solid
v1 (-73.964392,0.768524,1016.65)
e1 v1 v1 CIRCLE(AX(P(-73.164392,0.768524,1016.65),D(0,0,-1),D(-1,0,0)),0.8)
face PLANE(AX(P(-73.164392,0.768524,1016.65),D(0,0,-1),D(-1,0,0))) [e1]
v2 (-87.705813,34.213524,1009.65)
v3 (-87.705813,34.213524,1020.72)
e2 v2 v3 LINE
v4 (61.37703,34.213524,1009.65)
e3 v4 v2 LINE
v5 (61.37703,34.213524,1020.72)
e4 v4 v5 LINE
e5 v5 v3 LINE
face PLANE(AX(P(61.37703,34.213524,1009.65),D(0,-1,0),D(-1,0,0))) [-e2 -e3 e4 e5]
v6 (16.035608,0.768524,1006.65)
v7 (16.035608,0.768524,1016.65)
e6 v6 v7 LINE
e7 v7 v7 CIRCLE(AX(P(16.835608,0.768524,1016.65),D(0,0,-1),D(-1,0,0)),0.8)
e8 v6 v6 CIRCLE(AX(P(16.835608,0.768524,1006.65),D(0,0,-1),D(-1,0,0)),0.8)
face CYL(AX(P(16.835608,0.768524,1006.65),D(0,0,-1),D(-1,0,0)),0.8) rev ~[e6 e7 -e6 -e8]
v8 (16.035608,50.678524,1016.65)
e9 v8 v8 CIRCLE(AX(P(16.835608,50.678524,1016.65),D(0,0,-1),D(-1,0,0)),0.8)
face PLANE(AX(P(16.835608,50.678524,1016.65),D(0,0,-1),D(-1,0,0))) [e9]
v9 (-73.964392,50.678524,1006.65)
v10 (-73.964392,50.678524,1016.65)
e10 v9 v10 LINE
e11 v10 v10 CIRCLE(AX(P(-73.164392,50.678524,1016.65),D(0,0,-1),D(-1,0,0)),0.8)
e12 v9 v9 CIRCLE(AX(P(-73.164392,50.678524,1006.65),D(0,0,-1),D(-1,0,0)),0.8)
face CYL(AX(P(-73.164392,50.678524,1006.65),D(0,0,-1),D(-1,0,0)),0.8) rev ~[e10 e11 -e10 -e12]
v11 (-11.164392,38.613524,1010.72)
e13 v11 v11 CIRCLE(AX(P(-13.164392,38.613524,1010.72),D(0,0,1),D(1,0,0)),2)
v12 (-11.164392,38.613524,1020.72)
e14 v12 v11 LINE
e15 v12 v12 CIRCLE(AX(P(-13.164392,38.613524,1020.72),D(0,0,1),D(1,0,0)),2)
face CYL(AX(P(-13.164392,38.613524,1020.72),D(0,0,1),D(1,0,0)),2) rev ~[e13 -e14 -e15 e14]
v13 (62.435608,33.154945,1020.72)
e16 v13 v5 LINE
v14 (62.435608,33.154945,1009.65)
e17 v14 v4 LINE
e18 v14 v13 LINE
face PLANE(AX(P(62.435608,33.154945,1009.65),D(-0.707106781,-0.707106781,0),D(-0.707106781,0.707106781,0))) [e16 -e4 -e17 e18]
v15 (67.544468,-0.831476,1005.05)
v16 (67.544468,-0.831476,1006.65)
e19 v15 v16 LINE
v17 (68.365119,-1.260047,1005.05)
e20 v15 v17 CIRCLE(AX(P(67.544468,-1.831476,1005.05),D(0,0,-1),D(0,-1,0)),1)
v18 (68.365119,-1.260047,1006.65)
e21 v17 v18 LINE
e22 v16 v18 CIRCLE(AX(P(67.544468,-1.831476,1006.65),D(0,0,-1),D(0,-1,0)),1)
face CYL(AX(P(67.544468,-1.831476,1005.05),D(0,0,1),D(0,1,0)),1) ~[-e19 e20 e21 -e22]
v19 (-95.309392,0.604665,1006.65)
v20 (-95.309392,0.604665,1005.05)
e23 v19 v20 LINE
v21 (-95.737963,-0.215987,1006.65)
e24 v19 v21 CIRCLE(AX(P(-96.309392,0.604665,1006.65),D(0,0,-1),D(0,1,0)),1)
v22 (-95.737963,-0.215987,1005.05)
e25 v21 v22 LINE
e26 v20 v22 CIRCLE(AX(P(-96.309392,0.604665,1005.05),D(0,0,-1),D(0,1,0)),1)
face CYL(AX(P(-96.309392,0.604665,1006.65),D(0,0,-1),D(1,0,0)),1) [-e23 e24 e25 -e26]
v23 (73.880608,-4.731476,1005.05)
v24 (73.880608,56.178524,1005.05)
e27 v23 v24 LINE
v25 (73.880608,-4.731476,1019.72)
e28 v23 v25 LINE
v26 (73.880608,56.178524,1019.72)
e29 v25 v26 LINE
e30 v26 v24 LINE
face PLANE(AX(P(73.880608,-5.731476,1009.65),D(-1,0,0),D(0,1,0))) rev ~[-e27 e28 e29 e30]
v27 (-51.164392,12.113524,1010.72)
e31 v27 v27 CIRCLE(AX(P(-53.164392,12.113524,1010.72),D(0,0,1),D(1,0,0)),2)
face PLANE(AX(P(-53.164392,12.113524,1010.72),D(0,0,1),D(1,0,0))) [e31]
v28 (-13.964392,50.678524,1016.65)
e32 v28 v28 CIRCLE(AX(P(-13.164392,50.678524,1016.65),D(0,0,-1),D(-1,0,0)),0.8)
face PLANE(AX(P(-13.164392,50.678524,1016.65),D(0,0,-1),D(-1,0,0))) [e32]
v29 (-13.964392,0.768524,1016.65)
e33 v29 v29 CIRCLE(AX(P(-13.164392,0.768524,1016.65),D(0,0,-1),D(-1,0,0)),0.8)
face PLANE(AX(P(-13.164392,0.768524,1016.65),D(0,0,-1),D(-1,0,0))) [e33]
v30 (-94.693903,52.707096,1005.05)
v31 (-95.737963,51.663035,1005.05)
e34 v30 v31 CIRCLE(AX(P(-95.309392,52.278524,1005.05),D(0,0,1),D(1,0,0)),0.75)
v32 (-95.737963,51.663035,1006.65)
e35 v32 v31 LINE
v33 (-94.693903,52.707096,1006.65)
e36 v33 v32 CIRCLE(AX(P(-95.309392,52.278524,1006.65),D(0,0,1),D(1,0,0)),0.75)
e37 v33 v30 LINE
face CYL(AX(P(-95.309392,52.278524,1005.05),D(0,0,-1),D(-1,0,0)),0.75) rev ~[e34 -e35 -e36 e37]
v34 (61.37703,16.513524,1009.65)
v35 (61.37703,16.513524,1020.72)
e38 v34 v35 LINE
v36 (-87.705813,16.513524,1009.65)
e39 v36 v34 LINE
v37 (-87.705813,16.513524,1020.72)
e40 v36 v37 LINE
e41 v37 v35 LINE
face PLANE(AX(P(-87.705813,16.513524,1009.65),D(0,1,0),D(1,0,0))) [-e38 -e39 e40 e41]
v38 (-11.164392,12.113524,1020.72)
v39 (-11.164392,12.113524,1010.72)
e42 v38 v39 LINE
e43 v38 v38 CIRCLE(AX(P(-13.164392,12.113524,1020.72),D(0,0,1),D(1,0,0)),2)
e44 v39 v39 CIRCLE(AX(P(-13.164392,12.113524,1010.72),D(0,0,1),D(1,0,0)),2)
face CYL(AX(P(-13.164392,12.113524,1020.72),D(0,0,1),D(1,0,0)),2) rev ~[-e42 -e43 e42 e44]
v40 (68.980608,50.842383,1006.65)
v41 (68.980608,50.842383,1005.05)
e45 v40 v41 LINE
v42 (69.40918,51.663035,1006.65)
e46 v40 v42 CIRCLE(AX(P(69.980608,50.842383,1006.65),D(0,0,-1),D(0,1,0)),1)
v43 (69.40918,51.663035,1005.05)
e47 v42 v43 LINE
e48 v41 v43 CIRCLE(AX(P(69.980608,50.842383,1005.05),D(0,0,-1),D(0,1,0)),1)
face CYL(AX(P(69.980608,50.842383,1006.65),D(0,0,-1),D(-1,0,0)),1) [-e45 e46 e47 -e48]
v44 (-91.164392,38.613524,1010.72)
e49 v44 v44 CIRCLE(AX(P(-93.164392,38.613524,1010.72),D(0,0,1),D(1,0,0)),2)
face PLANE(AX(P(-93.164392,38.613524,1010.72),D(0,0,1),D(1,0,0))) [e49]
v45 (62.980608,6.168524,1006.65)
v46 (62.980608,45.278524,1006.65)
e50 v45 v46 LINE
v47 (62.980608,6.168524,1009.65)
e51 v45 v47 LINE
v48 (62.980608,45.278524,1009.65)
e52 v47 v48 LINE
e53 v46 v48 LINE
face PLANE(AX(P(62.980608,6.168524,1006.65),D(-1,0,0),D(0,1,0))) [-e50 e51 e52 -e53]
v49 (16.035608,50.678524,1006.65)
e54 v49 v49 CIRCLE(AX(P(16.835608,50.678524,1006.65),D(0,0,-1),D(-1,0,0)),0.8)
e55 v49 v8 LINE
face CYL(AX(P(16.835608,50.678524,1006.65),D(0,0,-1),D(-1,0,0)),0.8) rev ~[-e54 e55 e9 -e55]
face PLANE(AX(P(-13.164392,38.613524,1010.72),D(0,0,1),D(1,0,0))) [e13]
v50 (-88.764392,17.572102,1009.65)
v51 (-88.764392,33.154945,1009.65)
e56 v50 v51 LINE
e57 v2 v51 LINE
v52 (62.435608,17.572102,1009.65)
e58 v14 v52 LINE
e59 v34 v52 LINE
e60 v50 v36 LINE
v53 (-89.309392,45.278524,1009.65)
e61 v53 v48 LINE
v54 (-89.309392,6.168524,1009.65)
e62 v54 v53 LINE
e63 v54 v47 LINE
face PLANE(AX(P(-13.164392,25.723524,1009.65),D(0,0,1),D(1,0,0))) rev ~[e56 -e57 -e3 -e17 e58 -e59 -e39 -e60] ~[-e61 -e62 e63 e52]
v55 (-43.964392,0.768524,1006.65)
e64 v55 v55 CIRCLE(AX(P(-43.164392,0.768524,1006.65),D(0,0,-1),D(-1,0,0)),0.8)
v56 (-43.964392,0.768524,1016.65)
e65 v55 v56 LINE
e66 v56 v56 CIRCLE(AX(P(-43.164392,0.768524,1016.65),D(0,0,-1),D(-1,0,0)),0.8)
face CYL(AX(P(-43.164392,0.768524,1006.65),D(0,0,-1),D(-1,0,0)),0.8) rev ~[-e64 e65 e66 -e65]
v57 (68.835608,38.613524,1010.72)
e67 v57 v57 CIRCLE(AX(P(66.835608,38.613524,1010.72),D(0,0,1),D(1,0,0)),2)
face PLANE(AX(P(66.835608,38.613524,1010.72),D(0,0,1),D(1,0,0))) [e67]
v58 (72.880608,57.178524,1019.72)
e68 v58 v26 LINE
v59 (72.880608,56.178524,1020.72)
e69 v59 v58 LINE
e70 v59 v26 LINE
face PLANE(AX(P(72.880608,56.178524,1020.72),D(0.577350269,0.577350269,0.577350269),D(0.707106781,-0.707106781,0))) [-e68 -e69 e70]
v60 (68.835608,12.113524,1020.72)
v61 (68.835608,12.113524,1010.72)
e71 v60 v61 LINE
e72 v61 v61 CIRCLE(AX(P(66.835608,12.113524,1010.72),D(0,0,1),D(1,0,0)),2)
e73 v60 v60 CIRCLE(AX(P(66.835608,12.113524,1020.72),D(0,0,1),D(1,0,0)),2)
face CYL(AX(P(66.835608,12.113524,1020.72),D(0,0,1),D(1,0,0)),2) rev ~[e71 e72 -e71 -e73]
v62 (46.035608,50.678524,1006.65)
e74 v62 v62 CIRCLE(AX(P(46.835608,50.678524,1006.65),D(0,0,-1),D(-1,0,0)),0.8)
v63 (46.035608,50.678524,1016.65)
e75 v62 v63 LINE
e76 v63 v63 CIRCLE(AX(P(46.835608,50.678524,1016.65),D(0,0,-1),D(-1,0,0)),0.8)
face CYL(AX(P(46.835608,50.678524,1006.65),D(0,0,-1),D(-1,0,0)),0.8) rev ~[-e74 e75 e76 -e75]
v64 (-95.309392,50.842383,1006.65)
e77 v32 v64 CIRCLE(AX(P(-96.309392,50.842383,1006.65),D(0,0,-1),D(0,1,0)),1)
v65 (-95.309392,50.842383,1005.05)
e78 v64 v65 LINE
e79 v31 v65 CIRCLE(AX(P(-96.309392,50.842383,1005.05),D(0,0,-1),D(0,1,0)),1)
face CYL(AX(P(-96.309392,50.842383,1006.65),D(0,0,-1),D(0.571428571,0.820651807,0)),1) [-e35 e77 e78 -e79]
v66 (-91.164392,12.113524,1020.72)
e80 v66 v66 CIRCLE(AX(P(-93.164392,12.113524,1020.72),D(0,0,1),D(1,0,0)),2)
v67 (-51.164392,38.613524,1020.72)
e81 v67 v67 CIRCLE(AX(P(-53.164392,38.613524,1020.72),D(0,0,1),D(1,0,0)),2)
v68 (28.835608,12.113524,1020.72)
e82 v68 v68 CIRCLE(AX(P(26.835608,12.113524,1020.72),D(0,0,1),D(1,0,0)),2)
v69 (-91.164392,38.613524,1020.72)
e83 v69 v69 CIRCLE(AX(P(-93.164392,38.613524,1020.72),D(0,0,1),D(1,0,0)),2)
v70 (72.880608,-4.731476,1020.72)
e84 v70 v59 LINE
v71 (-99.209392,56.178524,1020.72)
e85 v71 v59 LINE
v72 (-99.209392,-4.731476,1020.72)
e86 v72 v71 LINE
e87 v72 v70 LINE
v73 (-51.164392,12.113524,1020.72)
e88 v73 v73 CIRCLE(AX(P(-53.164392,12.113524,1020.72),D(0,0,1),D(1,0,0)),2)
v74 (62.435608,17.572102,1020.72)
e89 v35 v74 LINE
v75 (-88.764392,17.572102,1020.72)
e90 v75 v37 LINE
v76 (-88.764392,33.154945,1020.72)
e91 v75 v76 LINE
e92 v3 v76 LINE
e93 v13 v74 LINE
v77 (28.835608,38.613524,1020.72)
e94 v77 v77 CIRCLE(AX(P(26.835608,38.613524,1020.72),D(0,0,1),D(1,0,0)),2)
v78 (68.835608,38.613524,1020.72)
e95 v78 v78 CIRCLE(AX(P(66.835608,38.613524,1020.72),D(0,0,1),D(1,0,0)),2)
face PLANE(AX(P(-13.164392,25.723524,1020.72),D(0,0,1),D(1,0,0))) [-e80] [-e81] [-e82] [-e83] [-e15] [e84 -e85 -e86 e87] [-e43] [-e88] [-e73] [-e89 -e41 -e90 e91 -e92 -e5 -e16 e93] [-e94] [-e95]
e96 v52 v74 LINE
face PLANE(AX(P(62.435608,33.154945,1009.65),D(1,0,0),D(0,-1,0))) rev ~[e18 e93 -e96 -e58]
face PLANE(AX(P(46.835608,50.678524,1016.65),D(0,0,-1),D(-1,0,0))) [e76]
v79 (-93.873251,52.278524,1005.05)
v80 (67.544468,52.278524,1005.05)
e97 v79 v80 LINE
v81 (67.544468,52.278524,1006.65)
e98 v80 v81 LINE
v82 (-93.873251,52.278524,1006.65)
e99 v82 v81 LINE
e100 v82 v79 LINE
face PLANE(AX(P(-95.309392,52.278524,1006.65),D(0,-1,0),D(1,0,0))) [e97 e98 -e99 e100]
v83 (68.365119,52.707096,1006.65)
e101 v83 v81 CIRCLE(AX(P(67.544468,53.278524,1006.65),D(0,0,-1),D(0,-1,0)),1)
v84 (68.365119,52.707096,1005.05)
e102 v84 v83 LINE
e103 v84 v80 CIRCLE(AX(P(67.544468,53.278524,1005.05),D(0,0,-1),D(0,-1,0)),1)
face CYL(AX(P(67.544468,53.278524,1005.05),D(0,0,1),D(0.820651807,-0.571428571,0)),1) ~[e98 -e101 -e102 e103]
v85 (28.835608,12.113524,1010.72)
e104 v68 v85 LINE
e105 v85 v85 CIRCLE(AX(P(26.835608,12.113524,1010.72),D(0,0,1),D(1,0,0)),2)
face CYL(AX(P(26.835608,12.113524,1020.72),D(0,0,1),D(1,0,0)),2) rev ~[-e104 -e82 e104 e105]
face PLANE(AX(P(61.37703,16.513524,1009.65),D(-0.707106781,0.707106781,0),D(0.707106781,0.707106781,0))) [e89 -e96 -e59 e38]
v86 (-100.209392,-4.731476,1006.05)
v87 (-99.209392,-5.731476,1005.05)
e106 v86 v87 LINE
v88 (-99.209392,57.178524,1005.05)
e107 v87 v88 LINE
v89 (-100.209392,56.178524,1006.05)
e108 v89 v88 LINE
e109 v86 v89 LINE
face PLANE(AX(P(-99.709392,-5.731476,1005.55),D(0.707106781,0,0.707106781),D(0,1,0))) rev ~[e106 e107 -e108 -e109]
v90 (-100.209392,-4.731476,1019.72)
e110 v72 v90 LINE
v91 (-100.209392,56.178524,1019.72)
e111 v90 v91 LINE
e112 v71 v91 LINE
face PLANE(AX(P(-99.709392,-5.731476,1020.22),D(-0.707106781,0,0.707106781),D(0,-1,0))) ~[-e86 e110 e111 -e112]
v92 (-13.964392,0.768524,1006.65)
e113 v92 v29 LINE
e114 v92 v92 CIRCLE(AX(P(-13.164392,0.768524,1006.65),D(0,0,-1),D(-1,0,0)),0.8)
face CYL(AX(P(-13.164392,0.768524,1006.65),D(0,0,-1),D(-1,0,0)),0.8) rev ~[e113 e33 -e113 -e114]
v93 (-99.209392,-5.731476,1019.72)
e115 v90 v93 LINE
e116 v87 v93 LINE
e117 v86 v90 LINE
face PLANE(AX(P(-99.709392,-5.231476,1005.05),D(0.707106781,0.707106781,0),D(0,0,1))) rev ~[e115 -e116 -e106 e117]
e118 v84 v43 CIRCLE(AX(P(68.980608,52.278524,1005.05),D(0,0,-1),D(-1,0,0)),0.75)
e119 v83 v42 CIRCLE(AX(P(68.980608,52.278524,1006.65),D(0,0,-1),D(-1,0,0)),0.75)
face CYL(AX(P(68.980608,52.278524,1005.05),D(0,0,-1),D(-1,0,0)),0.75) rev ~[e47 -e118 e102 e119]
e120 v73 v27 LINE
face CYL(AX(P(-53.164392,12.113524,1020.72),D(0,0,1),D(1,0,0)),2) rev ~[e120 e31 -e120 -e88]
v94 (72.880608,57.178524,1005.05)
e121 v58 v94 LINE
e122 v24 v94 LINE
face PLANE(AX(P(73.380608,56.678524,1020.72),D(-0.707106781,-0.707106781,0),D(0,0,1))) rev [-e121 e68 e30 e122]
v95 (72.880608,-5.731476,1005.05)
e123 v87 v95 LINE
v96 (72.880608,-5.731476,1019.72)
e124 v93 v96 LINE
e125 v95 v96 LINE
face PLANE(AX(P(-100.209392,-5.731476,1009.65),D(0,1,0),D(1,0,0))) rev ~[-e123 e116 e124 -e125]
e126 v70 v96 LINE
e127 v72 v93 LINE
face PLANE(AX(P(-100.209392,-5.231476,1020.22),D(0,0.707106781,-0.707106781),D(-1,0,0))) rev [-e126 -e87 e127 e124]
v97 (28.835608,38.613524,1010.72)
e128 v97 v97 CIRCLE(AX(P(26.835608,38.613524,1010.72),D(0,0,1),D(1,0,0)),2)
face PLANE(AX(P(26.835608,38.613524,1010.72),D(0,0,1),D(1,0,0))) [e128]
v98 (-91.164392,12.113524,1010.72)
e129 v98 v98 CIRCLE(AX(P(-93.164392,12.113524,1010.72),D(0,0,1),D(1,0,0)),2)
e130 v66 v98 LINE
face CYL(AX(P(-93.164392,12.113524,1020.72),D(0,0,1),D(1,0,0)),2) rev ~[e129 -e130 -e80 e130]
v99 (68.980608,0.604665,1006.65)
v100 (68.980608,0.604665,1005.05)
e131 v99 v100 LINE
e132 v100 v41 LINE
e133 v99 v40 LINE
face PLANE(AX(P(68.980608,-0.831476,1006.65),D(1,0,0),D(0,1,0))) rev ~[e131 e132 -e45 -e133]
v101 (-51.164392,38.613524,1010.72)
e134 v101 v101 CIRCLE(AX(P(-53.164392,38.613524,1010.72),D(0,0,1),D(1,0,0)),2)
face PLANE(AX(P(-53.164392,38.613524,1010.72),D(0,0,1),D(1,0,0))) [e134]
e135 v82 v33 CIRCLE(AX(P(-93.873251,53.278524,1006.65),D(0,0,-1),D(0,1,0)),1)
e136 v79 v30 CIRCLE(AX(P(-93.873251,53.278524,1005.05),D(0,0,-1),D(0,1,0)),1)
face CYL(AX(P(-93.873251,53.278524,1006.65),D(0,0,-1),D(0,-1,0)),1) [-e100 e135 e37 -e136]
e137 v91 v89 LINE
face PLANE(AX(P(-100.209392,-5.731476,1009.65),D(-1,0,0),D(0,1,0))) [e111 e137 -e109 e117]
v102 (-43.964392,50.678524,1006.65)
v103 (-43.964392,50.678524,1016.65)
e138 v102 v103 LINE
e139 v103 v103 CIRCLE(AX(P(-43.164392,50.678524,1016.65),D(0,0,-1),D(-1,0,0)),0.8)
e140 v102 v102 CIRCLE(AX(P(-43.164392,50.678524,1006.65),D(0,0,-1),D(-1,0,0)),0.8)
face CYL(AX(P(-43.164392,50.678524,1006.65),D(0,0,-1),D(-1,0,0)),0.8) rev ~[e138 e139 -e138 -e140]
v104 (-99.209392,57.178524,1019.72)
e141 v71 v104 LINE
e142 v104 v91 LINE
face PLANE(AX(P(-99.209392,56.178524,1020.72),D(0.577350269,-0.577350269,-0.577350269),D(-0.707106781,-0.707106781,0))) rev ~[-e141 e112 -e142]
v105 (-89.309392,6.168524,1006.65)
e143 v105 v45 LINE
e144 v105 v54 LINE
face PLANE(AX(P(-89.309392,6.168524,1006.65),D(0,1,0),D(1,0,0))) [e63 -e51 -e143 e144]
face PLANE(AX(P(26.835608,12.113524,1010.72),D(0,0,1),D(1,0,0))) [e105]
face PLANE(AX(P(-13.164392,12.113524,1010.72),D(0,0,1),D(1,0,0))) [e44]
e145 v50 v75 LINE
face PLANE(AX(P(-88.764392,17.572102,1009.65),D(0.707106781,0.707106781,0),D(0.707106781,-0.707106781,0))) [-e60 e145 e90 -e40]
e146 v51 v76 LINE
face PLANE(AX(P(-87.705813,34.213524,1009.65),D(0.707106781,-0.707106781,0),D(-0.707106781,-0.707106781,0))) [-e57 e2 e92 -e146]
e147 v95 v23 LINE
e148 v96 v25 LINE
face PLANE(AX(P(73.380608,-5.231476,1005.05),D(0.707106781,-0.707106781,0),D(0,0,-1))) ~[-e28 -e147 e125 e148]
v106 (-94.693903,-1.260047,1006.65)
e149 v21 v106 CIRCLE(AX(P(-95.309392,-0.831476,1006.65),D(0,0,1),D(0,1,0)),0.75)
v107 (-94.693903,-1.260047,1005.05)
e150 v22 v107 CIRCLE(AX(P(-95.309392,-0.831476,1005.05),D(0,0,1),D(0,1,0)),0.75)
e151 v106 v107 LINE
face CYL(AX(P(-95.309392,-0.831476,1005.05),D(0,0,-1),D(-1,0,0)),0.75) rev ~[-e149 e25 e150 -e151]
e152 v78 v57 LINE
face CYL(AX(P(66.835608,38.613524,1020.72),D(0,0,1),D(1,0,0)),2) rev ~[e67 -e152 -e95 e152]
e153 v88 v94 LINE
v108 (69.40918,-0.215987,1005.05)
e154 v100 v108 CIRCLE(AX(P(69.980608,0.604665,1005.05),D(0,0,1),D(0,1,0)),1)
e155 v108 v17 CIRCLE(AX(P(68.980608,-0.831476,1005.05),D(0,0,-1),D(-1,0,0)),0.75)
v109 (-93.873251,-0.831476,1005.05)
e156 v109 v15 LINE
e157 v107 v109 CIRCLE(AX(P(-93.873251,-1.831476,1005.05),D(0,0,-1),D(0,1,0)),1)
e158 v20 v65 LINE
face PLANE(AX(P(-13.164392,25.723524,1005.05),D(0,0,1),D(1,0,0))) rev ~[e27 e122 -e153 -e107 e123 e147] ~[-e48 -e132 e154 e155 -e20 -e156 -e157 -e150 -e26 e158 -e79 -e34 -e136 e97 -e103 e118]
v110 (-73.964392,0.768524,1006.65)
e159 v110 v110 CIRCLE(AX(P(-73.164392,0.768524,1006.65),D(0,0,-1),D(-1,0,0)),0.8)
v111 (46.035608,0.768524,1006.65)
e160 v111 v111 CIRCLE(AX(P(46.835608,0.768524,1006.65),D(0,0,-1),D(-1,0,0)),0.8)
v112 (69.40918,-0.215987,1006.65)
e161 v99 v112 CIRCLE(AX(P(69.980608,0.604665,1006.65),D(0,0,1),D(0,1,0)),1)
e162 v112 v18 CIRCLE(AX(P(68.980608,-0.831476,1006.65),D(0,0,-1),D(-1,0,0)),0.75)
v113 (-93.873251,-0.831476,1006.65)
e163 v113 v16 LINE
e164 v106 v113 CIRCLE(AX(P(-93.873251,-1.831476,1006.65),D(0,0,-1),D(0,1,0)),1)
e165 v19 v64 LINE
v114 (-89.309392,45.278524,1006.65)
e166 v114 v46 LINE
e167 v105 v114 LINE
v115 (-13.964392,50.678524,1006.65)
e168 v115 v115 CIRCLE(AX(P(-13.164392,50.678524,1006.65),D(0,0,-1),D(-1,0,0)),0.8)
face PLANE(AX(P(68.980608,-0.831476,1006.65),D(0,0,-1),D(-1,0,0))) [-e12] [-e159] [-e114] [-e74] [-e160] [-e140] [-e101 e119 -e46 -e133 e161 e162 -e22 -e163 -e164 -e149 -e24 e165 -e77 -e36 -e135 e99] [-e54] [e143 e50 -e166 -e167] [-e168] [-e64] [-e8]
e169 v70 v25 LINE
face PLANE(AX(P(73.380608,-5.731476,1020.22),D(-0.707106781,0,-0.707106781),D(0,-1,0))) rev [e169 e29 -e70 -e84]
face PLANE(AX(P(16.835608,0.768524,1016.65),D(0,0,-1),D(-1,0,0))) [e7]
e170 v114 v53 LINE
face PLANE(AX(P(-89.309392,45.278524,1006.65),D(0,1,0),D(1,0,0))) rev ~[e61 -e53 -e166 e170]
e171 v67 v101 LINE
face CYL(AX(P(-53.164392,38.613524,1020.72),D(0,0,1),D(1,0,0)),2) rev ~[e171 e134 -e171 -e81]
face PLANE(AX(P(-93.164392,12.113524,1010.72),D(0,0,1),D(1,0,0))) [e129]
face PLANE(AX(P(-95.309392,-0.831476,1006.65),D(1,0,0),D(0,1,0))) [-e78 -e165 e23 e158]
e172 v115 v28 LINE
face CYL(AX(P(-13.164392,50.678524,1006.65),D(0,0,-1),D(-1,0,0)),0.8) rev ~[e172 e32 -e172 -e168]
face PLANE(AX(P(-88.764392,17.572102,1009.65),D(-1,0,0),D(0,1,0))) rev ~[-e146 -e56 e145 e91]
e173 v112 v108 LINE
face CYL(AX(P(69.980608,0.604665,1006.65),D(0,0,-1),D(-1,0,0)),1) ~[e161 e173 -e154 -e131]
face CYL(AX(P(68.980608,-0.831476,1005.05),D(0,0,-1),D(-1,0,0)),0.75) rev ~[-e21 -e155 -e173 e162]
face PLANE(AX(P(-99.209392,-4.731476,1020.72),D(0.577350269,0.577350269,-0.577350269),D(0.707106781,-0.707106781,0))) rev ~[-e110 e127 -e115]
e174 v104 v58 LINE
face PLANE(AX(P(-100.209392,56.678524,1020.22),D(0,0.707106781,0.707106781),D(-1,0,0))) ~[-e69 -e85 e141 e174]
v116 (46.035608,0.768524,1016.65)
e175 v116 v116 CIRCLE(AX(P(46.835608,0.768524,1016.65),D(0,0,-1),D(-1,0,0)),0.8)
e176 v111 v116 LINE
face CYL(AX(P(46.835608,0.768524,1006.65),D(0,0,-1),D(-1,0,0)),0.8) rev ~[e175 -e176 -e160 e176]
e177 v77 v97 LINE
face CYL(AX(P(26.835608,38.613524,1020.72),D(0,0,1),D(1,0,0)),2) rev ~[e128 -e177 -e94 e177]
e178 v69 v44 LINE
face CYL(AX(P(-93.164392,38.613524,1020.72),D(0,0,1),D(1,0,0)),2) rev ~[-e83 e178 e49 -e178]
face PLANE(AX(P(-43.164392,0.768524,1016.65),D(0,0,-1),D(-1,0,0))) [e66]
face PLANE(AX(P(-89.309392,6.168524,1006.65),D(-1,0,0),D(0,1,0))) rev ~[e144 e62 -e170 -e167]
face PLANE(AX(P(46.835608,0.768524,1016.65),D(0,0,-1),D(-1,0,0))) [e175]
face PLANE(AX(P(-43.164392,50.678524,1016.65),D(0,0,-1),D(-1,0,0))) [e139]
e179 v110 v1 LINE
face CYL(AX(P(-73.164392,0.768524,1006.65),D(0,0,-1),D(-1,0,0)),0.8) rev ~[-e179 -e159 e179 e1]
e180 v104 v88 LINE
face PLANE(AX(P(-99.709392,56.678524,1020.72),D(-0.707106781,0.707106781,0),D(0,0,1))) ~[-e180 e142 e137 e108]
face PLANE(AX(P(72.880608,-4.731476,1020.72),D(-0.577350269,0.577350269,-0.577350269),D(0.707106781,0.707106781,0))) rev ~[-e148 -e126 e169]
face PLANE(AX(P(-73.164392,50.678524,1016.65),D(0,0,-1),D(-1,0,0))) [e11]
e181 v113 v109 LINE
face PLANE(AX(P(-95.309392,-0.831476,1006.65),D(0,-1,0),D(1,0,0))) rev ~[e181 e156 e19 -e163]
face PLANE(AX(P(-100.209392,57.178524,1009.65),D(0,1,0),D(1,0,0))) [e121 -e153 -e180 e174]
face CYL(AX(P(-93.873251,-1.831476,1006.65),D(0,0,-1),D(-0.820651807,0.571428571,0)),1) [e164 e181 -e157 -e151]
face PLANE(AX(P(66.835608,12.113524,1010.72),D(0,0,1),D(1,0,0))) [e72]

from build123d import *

# Parameters (mm, degrees)
SKETCH1_W           = 174.09
SKETCH1_H           = 62.91
SKETCH1_W_2         = 164.29
SKETCH1_H_2         = 53.11
BOSS_EXTRUDE1_DEPTH = 1.6
SKETCH2_W           = 174.09
SKETCH2_H           = 62.91
SKETCH2_W_2         = 152.29
SKETCH2_H_2         = 39.11
BOSS_EXTRUDE2_DEPTH = 3
SKETCH3_W           = 174.09
SKETCH3_H           = 62.91
BOSS_EXTRUDE3_DEPTH = 11.07
SKETCH4_R           = 0.8
CUT_EXTRUDE1_DEPTH  = 10
SKETCH5_R           = 0.75
CUT_EXTRUDE2_DEPTH  = 1.6
FILLET1_R           = 1
SKETCH6_R           = 2
CUT_EXTRUDE3_DEPTH  = 10
CHAMFER1_SIZE       = 1


with BuildPart() as part:
    # Sketch1 → Boss-Extrude1 (new body)
    with BuildSketch(Plane.XY.offset(1006.65)):
        with Locations((-13.164391743, 25.723524096)):
            Rectangle(SKETCH1_W, SKETCH1_H)
        with Locations((-13.164391743, 25.723524096)):
            Rectangle(SKETCH1_W_2, SKETCH1_H_2, mode=Mode.SUBTRACT)
    extrude(amount=-BOSS_EXTRUDE1_DEPTH)

    # Sketch2 → Boss-Extrude2 (add)
    with BuildSketch(Plane.XY.offset(1006.65)):
        with Locations((-13.164391743, 25.723524096)):
            Rectangle(SKETCH2_W, SKETCH2_H)
        with Locations((-13.164391743, 25.723524096)):
            Rectangle(SKETCH2_W_2, SKETCH2_H_2, mode=Mode.SUBTRACT)
    extrude(amount=BOSS_EXTRUDE2_DEPTH)

    # Sketch3 → Boss-Extrude3 (add)
    with BuildSketch(Plane.XY.offset(1009.65)):
        with Locations((-13.164391743, 25.723524096)):
            Rectangle(SKETCH3_W, SKETCH3_H)
        Polygon((61.377029613, 34.213523596), (-87.705813099, 34.213523596), (-88.764391743, 33.154944952), (-88.764391743, 24.613523596), (-88.764391743, 17.57210224), (-87.705813099, 16.513523596), (61.377029613, 16.513523596), (62.435608257, 17.57210224), (62.435608257, 24.613523596), (62.435608257, 33.154944952), align=None, mode=Mode.SUBTRACT)
    extrude(amount=BOSS_EXTRUDE3_DEPTH)

    # Sketch4 → Cut-Extrude1 (cut)
    with BuildSketch(Plane(origin=(0, 0, 1006.65), x_dir=(-1, 0, 0), z_dir=(0, 0, -1))):
        with Locations((-46.835608257, 50.678524096)):
            Circle(SKETCH4_R)
        with Locations((-16.835608257, 50.678524096)):
            Circle(SKETCH4_R)
        with Locations((13.164391743, 50.678524096)):
            Circle(SKETCH4_R)
        with Locations((43.164391743, 50.678524096)):
            Circle(SKETCH4_R)
        with Locations((73.164391743, 50.678524096)):
            Circle(SKETCH4_R)
        with Locations((73.164391743, 0.768524096)):
            Circle(SKETCH4_R)
        with Locations((43.164391743, 0.768524096)):
            Circle(SKETCH4_R)
        with Locations((13.164391743, 0.768524096)):
            Circle(SKETCH4_R)
        with Locations((-16.835608257, 0.768524096)):
            Circle(SKETCH4_R)
        with Locations((-46.835608257, 0.768524096)):
            Circle(SKETCH4_R)
    extrude(amount=-CUT_EXTRUDE1_DEPTH, mode=Mode.SUBTRACT)

    # Sketch5 → Cut-Extrude2 (cut)
    with BuildSketch(Plane(origin=(0, 0, 1005.05), x_dir=(-1, 0, 0), z_dir=(0, 0, -1))):
        with Locations((95.309391743, 52.278524096)):
            Circle(SKETCH5_R)
        with Locations((95.309391743, -0.831475904)):
            Circle(SKETCH5_R)
        with Locations((-68.980608257, -0.831475904)):
            Circle(SKETCH5_R)
        with Locations((-68.980608257, 52.278524096)):
            Circle(SKETCH5_R)
    extrude(amount=-CUT_EXTRUDE2_DEPTH, mode=Mode.SUBTRACT)

    # Fillet1
    fillet1_edges = [part.edges().sort_by_distance(p)[0] for p in [
        (68.980608257, 51.528524096, 1005.85),
        (68.230608257, 52.278524096, 1005.85),
        (68.230608257, -0.831475904, 1005.85),
        (68.980608257, -0.081475904, 1005.85),
        (-95.309391743, -0.081475904, 1005.85),
        (-94.559391743, -0.831475904, 1005.85),
        (-95.309391743, 51.528524096, 1005.85),
        (-94.559391743, 52.278524096, 1005.85),
    ]]
    fillet(fillet1_edges, radius=FILLET1_R)

    # Sketch6 → Cut-Extrude3 (cut)
    with BuildSketch(Plane.XY.offset(1020.72)):
        with Locations((-93.164391743, 38.613523596)):
            Circle(SKETCH6_R)
        with Locations((-53.164391743, 38.613523596)):
            Circle(SKETCH6_R)
        with Locations((-13.164391743, 38.613523596)):
            Circle(SKETCH6_R)
        with Locations((26.835608257, 38.613523596)):
            Circle(SKETCH6_R)
        with Locations((66.835608257, 38.613523596)):
            Circle(SKETCH6_R)
        with Locations((66.835608257, 12.113523596)):
            Circle(SKETCH6_R)
        with Locations((26.835608257, 12.113523596)):
            Circle(SKETCH6_R)
        with Locations((-13.164391743, 12.113523596)):
            Circle(SKETCH6_R)
        with Locations((-53.164391743, 12.113523596)):
            Circle(SKETCH6_R)
        with Locations((-93.164391743, 12.113523596)):
            Circle(SKETCH6_R)
    extrude(amount=-CUT_EXTRUDE3_DEPTH, mode=Mode.SUBTRACT)

    # Chamfer1
    chamfer1_edges = [part.edges().sort_by_distance(p)[0] for p in [
        (73.880608257, 57.178524096, 1012.885),
        (73.880608257, -5.731475904, 1012.885),
        (-100.209391743, -5.731475904, 1012.885),
        (-100.209391743, 57.178524096, 1012.885),
        (-13.164391743, 57.178524096, 1020.72),
        (-100.209391743, 25.723524096, 1020.72),
        (-13.164391743, -5.731475904, 1020.72),
        (73.880608257, 25.723524096, 1020.72),
        (-100.209391743, 25.723524096, 1005.05),
    ]]
    chamfer(chamfer1_edges, length=CHAMFER1_SIZE)


solid = part.part
